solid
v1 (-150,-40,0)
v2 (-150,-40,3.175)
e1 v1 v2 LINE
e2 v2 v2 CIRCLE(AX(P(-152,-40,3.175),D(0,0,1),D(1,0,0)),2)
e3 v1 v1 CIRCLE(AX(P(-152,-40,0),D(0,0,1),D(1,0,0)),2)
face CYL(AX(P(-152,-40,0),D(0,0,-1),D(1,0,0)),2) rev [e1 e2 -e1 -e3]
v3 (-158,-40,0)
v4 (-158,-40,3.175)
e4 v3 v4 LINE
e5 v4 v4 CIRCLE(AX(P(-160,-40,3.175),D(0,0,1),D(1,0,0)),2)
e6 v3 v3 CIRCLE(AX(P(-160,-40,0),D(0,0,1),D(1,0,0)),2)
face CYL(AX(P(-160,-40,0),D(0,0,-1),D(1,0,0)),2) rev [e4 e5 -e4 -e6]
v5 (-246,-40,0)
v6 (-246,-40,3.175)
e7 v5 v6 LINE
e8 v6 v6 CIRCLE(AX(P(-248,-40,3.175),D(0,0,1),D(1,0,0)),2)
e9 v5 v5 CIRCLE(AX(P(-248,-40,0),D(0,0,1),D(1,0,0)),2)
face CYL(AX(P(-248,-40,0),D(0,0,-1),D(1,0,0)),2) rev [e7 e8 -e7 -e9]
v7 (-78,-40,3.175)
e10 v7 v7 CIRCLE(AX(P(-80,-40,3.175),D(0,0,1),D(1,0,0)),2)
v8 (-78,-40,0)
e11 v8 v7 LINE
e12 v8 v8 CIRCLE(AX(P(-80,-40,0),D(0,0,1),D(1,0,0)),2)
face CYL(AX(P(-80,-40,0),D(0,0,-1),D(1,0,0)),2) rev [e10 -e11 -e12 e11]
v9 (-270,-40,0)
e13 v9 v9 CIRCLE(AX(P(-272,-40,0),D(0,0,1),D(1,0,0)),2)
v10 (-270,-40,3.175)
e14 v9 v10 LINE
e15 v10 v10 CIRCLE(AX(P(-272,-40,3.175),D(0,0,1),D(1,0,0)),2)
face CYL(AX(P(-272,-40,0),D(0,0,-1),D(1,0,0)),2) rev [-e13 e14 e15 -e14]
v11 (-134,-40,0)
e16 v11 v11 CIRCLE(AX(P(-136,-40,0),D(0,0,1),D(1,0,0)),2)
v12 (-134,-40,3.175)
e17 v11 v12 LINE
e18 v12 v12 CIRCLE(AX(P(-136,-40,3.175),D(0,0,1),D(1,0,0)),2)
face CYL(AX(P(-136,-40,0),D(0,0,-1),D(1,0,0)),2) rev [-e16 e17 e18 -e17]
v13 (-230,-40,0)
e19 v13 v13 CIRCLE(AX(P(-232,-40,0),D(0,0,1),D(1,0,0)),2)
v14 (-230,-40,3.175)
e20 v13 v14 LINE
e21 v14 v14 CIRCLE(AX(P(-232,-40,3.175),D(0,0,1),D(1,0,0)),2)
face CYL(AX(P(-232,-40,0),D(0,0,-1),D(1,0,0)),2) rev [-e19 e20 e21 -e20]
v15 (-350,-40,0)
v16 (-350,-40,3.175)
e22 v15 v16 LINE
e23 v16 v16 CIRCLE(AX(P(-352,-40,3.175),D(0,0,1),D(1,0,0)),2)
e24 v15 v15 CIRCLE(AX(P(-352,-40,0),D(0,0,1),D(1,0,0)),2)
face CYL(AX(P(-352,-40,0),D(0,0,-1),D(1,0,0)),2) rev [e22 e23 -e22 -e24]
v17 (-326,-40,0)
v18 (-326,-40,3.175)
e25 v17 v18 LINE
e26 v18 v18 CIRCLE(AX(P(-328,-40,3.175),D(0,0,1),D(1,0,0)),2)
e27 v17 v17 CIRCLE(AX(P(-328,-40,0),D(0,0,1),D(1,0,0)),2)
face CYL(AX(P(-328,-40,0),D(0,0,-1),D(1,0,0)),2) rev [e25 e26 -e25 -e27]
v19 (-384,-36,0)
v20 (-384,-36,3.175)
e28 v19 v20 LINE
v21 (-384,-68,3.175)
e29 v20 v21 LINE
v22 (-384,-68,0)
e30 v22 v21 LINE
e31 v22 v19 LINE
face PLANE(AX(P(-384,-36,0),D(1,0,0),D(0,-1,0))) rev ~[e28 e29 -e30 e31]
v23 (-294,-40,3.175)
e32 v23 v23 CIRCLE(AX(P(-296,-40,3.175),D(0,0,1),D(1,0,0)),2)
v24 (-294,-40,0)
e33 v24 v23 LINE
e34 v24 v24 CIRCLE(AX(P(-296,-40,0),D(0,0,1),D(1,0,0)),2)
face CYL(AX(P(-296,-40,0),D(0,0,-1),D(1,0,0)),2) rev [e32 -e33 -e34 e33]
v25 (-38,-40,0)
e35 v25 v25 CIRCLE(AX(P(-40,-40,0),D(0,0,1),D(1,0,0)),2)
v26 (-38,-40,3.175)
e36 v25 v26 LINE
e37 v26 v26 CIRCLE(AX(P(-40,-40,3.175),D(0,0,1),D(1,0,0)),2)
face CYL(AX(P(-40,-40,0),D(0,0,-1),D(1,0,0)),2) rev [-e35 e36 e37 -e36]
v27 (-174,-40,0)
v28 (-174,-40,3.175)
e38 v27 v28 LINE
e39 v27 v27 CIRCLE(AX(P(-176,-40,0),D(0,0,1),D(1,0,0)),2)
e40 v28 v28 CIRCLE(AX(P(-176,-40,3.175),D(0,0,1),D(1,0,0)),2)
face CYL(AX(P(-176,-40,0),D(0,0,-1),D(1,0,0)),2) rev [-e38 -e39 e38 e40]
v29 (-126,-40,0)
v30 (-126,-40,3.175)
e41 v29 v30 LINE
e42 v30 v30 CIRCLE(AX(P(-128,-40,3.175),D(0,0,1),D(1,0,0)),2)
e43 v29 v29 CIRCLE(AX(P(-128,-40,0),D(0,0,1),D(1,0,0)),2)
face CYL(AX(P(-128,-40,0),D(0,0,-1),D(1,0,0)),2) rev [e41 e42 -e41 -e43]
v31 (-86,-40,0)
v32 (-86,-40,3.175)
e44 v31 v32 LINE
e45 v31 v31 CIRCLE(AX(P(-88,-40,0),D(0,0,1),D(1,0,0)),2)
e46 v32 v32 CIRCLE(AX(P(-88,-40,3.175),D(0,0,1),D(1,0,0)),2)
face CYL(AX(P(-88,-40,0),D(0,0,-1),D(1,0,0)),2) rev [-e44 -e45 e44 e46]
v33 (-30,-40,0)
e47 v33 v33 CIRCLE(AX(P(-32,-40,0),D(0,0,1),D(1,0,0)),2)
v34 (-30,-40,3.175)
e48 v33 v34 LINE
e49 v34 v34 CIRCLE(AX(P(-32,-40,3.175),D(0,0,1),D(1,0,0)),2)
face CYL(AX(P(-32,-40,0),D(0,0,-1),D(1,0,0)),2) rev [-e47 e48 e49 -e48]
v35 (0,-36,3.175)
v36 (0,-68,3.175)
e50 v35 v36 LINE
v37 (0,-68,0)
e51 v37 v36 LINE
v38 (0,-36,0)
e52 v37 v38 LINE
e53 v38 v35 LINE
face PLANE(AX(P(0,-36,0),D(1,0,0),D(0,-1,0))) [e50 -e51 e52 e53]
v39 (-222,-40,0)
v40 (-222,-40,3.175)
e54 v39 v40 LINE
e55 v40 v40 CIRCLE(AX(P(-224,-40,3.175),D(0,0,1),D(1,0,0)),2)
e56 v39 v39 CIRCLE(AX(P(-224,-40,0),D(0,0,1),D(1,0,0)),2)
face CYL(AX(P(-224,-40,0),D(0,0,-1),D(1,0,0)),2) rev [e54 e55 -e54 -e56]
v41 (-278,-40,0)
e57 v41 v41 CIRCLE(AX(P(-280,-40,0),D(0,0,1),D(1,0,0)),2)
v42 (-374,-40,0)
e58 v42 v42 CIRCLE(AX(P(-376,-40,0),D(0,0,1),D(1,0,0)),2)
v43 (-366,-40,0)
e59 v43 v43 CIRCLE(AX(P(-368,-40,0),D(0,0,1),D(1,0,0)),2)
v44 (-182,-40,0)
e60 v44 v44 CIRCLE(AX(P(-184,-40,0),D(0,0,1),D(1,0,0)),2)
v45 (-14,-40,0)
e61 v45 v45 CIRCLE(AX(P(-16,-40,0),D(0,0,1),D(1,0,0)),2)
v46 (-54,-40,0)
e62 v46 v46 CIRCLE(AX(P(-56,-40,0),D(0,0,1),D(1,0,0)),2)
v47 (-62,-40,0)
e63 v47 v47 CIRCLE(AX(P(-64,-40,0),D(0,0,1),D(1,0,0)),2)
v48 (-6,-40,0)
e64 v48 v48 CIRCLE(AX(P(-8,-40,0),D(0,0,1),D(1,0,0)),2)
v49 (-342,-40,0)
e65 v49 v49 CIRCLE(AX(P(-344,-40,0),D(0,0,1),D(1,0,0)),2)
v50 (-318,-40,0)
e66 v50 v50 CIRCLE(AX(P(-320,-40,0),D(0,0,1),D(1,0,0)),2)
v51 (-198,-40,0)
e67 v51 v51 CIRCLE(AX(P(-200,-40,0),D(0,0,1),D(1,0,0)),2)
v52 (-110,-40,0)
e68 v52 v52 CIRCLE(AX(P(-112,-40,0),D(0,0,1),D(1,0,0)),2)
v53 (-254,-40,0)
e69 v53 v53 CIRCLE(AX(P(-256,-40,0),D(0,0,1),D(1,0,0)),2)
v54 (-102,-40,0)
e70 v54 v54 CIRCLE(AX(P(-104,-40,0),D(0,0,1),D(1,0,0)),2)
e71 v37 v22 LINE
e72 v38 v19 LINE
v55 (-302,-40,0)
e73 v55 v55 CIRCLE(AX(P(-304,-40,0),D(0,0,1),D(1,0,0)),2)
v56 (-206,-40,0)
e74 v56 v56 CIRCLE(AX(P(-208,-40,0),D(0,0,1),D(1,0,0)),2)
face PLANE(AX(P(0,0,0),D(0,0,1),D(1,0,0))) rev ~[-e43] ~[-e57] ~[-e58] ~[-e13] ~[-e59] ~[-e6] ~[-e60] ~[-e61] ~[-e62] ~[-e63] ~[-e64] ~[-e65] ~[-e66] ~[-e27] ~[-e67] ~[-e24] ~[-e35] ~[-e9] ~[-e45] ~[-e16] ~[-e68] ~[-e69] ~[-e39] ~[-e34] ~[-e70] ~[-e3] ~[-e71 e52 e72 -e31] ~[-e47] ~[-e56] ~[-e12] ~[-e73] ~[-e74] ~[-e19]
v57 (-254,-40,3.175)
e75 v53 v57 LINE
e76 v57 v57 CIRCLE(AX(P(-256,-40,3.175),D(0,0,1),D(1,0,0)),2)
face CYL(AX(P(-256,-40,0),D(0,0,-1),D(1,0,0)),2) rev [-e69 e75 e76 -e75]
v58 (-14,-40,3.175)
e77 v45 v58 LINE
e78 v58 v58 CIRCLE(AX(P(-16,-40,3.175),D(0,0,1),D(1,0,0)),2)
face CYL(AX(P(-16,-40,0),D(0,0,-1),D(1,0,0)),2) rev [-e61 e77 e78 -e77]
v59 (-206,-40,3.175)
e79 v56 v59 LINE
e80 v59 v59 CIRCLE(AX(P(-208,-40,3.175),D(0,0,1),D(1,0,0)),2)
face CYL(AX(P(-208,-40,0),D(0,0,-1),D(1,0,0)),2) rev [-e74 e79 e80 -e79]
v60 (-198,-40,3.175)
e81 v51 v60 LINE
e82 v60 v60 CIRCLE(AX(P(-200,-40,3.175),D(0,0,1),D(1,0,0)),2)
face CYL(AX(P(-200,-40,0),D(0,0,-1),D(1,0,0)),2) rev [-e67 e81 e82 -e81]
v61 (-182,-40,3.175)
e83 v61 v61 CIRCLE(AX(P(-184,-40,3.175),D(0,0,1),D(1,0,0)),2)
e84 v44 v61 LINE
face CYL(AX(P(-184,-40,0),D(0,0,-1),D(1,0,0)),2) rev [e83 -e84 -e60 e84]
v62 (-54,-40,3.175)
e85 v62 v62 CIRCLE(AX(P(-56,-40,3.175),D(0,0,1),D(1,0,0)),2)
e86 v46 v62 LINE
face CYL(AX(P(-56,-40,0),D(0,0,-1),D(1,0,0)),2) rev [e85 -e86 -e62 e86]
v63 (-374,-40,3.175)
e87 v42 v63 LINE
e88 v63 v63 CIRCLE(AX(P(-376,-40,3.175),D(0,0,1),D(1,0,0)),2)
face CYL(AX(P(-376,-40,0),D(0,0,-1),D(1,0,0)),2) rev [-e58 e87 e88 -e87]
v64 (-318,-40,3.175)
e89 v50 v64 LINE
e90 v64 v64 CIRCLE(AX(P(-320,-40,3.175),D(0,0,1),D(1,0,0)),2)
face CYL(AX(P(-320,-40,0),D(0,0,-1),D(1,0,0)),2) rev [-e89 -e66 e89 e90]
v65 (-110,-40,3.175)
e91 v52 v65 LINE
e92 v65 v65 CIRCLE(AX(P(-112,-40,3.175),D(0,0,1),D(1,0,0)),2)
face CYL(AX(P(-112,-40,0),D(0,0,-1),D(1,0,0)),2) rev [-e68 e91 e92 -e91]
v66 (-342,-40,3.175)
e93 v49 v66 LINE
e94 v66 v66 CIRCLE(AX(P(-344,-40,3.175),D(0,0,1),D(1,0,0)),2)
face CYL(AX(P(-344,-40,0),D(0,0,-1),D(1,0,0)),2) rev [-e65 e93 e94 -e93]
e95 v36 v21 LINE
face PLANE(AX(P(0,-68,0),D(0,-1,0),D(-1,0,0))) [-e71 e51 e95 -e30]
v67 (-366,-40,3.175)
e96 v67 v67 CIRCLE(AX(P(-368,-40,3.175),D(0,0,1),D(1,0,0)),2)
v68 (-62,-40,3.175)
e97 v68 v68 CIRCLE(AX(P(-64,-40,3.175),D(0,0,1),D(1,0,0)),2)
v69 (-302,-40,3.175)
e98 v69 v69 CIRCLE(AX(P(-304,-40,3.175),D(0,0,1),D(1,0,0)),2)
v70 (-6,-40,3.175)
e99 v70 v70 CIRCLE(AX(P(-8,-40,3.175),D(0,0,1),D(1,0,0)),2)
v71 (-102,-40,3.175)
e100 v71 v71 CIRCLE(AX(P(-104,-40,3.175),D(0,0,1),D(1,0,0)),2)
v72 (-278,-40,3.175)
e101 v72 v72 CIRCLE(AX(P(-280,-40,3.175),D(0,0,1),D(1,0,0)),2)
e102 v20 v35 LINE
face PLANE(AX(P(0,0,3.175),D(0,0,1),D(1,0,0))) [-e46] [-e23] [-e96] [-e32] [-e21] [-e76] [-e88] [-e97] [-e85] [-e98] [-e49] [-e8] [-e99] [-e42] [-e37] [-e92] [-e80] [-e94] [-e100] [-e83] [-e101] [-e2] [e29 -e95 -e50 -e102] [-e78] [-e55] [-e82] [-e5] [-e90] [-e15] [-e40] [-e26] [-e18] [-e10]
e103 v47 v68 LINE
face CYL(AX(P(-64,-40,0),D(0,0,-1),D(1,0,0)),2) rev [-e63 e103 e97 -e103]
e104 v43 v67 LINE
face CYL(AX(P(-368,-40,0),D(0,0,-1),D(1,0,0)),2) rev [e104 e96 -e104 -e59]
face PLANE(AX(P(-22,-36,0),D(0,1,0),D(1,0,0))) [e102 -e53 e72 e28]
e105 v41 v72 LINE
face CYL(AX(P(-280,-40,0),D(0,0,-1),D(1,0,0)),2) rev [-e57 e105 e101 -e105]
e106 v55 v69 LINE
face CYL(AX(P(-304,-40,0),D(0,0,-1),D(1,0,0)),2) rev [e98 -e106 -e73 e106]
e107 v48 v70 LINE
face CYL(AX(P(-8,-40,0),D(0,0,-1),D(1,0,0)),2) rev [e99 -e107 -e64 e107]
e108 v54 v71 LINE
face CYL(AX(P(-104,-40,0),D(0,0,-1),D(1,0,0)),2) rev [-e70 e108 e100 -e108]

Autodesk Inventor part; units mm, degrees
ref_plane "YZ Plane" through (0, 0, 0) normal (1, 0, 0) x (0, 1, 0)
ref_plane "XZ Plane" through (0, 0, 0) normal (0, 1, 0) x (-1, 0, 0)
ref_plane "XY Plane" through (0, 0, 0) normal (0, 0, 1) x (1, 0, 0)
ref_plane "Work Plane1" through (0, 0, 0) normal (0, 0, 1) x (1, 0, 0)
sketch "Sketch1" plane through (0, 0, 0) normal (0, 0, 1) x (1, 0, 0)
  line L0 (0, 0) -> (-384, 0) projected
  line L1 (-384, 0) -> (-384, -48) projected
  line L2 (0, -48) -> (-384, -48) projected
  line L3 (0, 0) -> (0, -48) projected
  line L4 (-31.0711, -33.8995) -> (-30.5858, -33.4142) projected
  arc A0 (-33.8995, -31.0711) -> (-31.0711, -33.8995) centre (-32.4853, -32.4853) ccw projected
  line L5 (-33.8995, -31.0711) -> (-33.4142, -30.5858) projected
  arc A1 (-30.5858, -33.4142) -> (-33.4142, -30.5858) centre (-32, -32) ccw projected
  circle A2 centre (-16, -40) radius 2 projected
  circle A3 centre (-32, -40) radius 2 projected
  arc A4 (-38.5858, -30.5858) -> (-41.4142, -33.4142) centre (-40, -32) ccw projected
  line L6 (-38.1005, -31.0711) -> (-38.5858, -30.5858) projected
  arc A5 (-40.9289, -33.8995) -> (-38.1005, -31.0711) centre (-39.5147, -32.4853) ccw projected
  line L7 (-40.9289, -33.8995) -> (-41.4142, -33.4142) projected
  arc A6 (-41.4142, -14.5858) -> (-38.5858, -17.4142) centre (-40, -16) ccw projected
  line L8 (-40.9289, -14.1005) -> (-41.4142, -14.5858) projected
  arc A7 (-38.1005, -16.9289) -> (-40.9289, -14.1005) centre (-39.5147, -15.5147) ccw projected
  line L9 (-38.1005, -16.9289) -> (-38.5858, -17.4142) projected
  circle A8 centre (-40, -8) radius 2 projected
  arc A9 (-9.4142, -17.4142) -> (-6.5858, -14.5858) centre (-8, -16) ccw projected
  line L10 (-9.8995, -16.9289) -> (-9.4142, -17.4142) projected
  arc A10 (-7.0711, -14.1005) -> (-9.8995, -16.9289) centre (-8.4853, -15.5147) ccw projected
  line L11 (-7.0711, -14.1005) -> (-6.5858, -14.5858) projected
  circle A11 centre (-24, -24) radius 7 projected
  line L12 (-22, -8) -> (-22, -12.6863) projected
  arc A12 (-26, -12.6863) -> (-22, -12.6863) centre (-24, -12.6863) ccw projected
  line L13 (-26, -8) -> (-26, -12.6863) projected
  arc A13 (-22, -8) -> (-26, -8) centre (-24, -8) ccw projected
  line L14 (-11.3137, -26) -> (-12.6863, -26) projected
  arc A14 (-12.6863, -22) -> (-12.6863, -26) centre (-12.6863, -24) ccw projected
  line L15 (-12.6863, -22) -> (-11.3137, -22) projected
  arc A15 (-11.3137, -26) -> (-11.3137, -22) centre (-11.3137, -24) ccw projected
  line L16 (-26, -40) -> (-26, -35.3137) projected
  arc A16 (-22, -35.3137) -> (-26, -35.3137) centre (-24, -35.3137) ccw projected
  line L17 (-22, -40) -> (-22, -35.3137) projected
  arc A17 (-26, -40) -> (-22, -40) centre (-24, -40) ccw projected
  line L18 (-36.6863, -22) -> (-35.3137, -22) projected
  arc A18 (-35.3137, -26) -> (-35.3137, -22) centre (-35.3137, -24) ccw projected
  line L19 (-35.3137, -26) -> (-36.6863, -26) projected
  arc A19 (-36.6863, -22) -> (-36.6863, -26) centre (-36.6863, -24) ccw projected
  circle A20 centre (-16, -8) radius 2 projected
  circle A21 centre (-8, -8) radius 2 projected
  arc A22 (-6.5858, -33.4142) -> (-9.4142, -30.5858) centre (-8, -32) ccw projected
  line L20 (-7.0711, -33.8995) -> (-6.5858, -33.4142) projected
  arc A23 (-9.8995, -31.0711) -> (-7.0711, -33.8995) centre (-8.4853, -32.4853) ccw projected
  line L21 (-9.8995, -31.0711) -> (-9.4142, -30.5858) projected
  circle A24 centre (-8, -40) radius 2 projected
  circle A25 centre (-32, -8) radius 2 projected
  circle A26 centre (-40, -40) radius 2 projected
  line L22 (-14.1005, -31.0711) -> (-14.5858, -30.5858) projected
  arc A27 (-16.9289, -33.8995) -> (-14.1005, -31.0711) centre (-15.5147, -32.4853) ccw projected
  line L23 (-16.9289, -33.8995) -> (-17.4142, -33.4142) projected
  arc A28 (-14.5858, -30.5858) -> (-17.4142, -33.4142) centre (-16, -32) ccw projected
  arc A29 (-17.4142, -14.5858) -> (-14.5858, -17.4142) centre (-16, -16) ccw projected
  line L24 (-16.9289, -14.1005) -> (-17.4142, -14.5858) projected
  arc A30 (-14.1005, -16.9289) -> (-16.9289, -14.1005) centre (-15.5147, -15.5147) ccw projected
  line L25 (-14.1005, -16.9289) -> (-14.5858, -17.4142) projected
  line L26 (-31.0711, -14.1005) -> (-30.5858, -14.5858) projected
  arc A31 (-33.4142, -17.4142) -> (-30.5858, -14.5858) centre (-32, -16) ccw projected
  line L27 (-33.8995, -16.9289) -> (-33.4142, -17.4142) projected
  arc A32 (-31.0711, -14.1005) -> (-33.8995, -16.9289) centre (-32.4853, -15.5147) ccw projected
  line L28 (-367.0711, -14.1005) -> (-366.5858, -14.5858) projected
  arc A33 (-369.4142, -17.4142) -> (-366.5858, -14.5858) centre (-368, -16) ccw projected
  line L29 (-369.8995, -16.9289) -> (-369.4142, -17.4142) projected
  arc A34 (-367.0711, -14.1005) -> (-369.8995, -16.9289) centre (-368.4853, -15.5147) ccw projected
  circle A35 centre (-376, -40) radius 2 projected
  circle A36 centre (-368, -8) radius 2 projected
  line L30 (-372.6863, -22) -> (-371.3137, -22) projected
  arc A37 (-371.3137, -26) -> (-371.3137, -22) centre (-371.3137, -24) ccw projected
  line L31 (-371.3137, -26) -> (-372.6863, -26) projected
  arc A38 (-372.6863, -22) -> (-372.6863, -26) centre (-372.6863, -24) ccw projected
  line L32 (-362, -40) -> (-362, -35.3137) projected
  arc A39 (-358, -35.3137) -> (-362, -35.3137) centre (-360, -35.3137) ccw projected
  line L33 (-358, -40) -> (-358, -35.3137) projected
  arc A40 (-362, -40) -> (-358, -40) centre (-360, -40) ccw projected
  line L34 (-358, -8) -> (-358, -12.6863) projected
  arc A41 (-362, -12.6863) -> (-358, -12.6863) centre (-360, -12.6863) ccw projected
  line L35 (-362, -8) -> (-362, -12.6863) projected
  arc A42 (-358, -8) -> (-362, -8) centre (-360, -8) ccw projected
  circle A43 centre (-360, -24) radius 7 projected
  circle A44 centre (-376, -8) radius 2 projected
  arc A45 (-377.4142, -14.5858) -> (-374.5858, -17.4142) centre (-376, -16) ccw projected
  line L36 (-376.9289, -14.1005) -> (-377.4142, -14.5858) projected
  arc A46 (-374.1005, -16.9289) -> (-376.9289, -14.1005) centre (-375.5147, -15.5147) ccw projected
  line L37 (-374.1005, -16.9289) -> (-374.5858, -17.4142) projected
  arc A47 (-374.5858, -30.5858) -> (-377.4142, -33.4142) centre (-376, -32) ccw projected
  line L38 (-374.1005, -31.0711) -> (-374.5858, -30.5858) projected
  arc A48 (-376.9289, -33.8995) -> (-374.1005, -31.0711) centre (-375.5147, -32.4853) ccw projected
  line L39 (-376.9289, -33.8995) -> (-377.4142, -33.4142) projected
  circle A49 centre (-368, -40) radius 2 projected
  line L40 (-367.0711, -33.8995) -> (-366.5858, -33.4142) projected
  arc A50 (-369.8995, -31.0711) -> (-367.0711, -33.8995) centre (-368.4853, -32.4853) ccw projected
  line L41 (-369.8995, -31.0711) -> (-369.4142, -30.5858) projected
  arc A51 (-366.5858, -33.4142) -> (-369.4142, -30.5858) centre (-368, -32) ccw projected
  line L42 (-343.0711, -14.1005) -> (-342.5858, -14.5858) projected
  arc A52 (-345.4142, -17.4142) -> (-342.5858, -14.5858) centre (-344, -16) ccw projected
  line L43 (-345.8995, -16.9289) -> (-345.4142, -17.4142) projected
  arc A53 (-343.0711, -14.1005) -> (-345.8995, -16.9289) centre (-344.4853, -15.5147) ccw projected
  circle A54 centre (-352, -40) radius 2 projected
  circle A55 centre (-344, -8) radius 2 projected
  line L44 (-348.6863, -22) -> (-347.3137, -22) projected
  arc A56 (-347.3137, -26) -> (-347.3137, -22) centre (-347.3137, -24) ccw projected
  line L45 (-347.3137, -26) -> (-348.6863, -26) projected
  arc A57 (-348.6863, -22) -> (-348.6863, -26) centre (-348.6863, -24) ccw projected
  line L46 (-338, -40) -> (-338, -35.3137) projected
  arc A58 (-334, -35.3137) -> (-338, -35.3137) centre (-336, -35.3137) ccw projected
  line L47 (-334, -40) -> (-334, -35.3137) projected
  arc A59 (-338, -40) -> (-334, -40) centre (-336, -40) ccw projected
  line L48 (-334, -8) -> (-334, -12.6863) projected
  arc A60 (-338, -12.6863) -> (-334, -12.6863) centre (-336, -12.6863) ccw projected
  line L49 (-338, -8) -> (-338, -12.6863) projected
  arc A61 (-334, -8) -> (-338, -8) centre (-336, -8) ccw projected
  circle A62 centre (-336, -24) radius 7 projected
  circle A63 centre (-352, -8) radius 2 projected
  arc A64 (-353.4142, -14.5858) -> (-350.5858, -17.4142) centre (-352, -16) ccw projected
  line L50 (-352.9289, -14.1005) -> (-353.4142, -14.5858) projected
  arc A65 (-350.1005, -16.9289) -> (-352.9289, -14.1005) centre (-351.5147, -15.5147) ccw projected
  line L51 (-350.1005, -16.9289) -> (-350.5858, -17.4142) projected
  arc A66 (-350.5858, -30.5858) -> (-353.4142, -33.4142) centre (-352, -32) ccw projected
  line L52 (-350.1005, -31.0711) -> (-350.5858, -30.5858) projected
  arc A67 (-352.9289, -33.8995) -> (-350.1005, -31.0711) centre (-351.5147, -32.4853) ccw projected
  line L53 (-352.9289, -33.8995) -> (-353.4142, -33.4142) projected
  circle A68 centre (-344, -40) radius 2 projected
  line L54 (-343.0711, -33.8995) -> (-342.5858, -33.4142) projected
  arc A69 (-345.8995, -31.0711) -> (-343.0711, -33.8995) centre (-344.4853, -32.4853) ccw projected
  line L55 (-345.8995, -31.0711) -> (-345.4142, -30.5858) projected
  arc A70 (-342.5858, -33.4142) -> (-345.4142, -30.5858) centre (-344, -32) ccw projected
  line L56 (-319.0711, -14.1005) -> (-318.5858, -14.5858) projected
  arc A71 (-321.4142, -17.4142) -> (-318.5858, -14.5858) centre (-320, -16) ccw projected
  line L57 (-321.8995, -16.9289) -> (-321.4142, -17.4142) projected
  arc A72 (-319.0711, -14.1005) -> (-321.8995, -16.9289) centre (-320.4853, -15.5147) ccw projected
  circle A73 centre (-328, -40) radius 2 projected
  circle A74 centre (-320, -8) radius 2 projected
  line L58 (-324.6863, -22) -> (-323.3137, -22) projected
  arc A75 (-323.3137, -26) -> (-323.3137, -22) centre (-323.3137, -24) ccw projected
  line L59 (-323.3137, -26) -> (-324.6863, -26) projected
  arc A76 (-324.6863, -22) -> (-324.6863, -26) centre (-324.6863, -24) ccw projected
  line L60 (-314, -40) -> (-314, -35.3137) projected
  arc A77 (-310, -35.3137) -> (-314, -35.3137) centre (-312, -35.3137) ccw projected
  line L61 (-310, -40) -> (-310, -35.3137) projected
  arc A78 (-314, -40) -> (-310, -40) centre (-312, -40) ccw projected
  line L62 (-310, -8) -> (-310, -12.6863) projected
  arc A79 (-314, -12.6863) -> (-310, -12.6863) centre (-312, -12.6863) ccw projected
  line L63 (-314, -8) -> (-314, -12.6863) projected
  arc A80 (-310, -8) -> (-314, -8) centre (-312, -8) ccw projected
  circle A81 centre (-312, -24) radius 7 projected
  circle A82 centre (-328, -8) radius 2 projected
  arc A83 (-329.4142, -14.5858) -> (-326.5858, -17.4142) centre (-328, -16) ccw projected
  line L64 (-328.9289, -14.1005) -> (-329.4142, -14.5858) projected
  arc A84 (-326.1005, -16.9289) -> (-328.9289, -14.1005) centre (-327.5147, -15.5147) ccw projected
  line L65 (-326.1005, -16.9289) -> (-326.5858, -17.4142) projected
  arc A85 (-326.5858, -30.5858) -> (-329.4142, -33.4142) centre (-328, -32) ccw projected
  line L66 (-326.1005, -31.0711) -> (-326.5858, -30.5858) projected
  arc A86 (-328.9289, -33.8995) -> (-326.1005, -31.0711) centre (-327.5147, -32.4853) ccw projected
  line L67 (-328.9289, -33.8995) -> (-329.4142, -33.4142) projected
  circle A87 centre (-320, -40) radius 2 projected
  line L68 (-319.0711, -33.8995) -> (-318.5858, -33.4142) projected
  arc A88 (-321.8995, -31.0711) -> (-319.0711, -33.8995) centre (-320.4853, -32.4853) ccw projected
  line L69 (-321.8995, -31.0711) -> (-321.4142, -30.5858) projected
  arc A89 (-318.5858, -33.4142) -> (-321.4142, -30.5858) centre (-320, -32) ccw projected
  line L70 (-295.0711, -14.1005) -> (-294.5858, -14.5858) projected
  arc A90 (-297.4142, -17.4142) -> (-294.5858, -14.5858) centre (-296, -16) ccw projected
  line L71 (-297.8995, -16.9289) -> (-297.4142, -17.4142) projected
  arc A91 (-295.0711, -14.1005) -> (-297.8995, -16.9289) centre (-296.4853, -15.5147) ccw projected
  circle A92 centre (-304, -40) radius 2 projected
  circle A93 centre (-296, -8) radius 2 projected
  line L72 (-300.6863, -22) -> (-299.3137, -22) projected
  arc A94 (-299.3137, -26) -> (-299.3137, -22) centre (-299.3137, -24) ccw projected
  line L73 (-299.3137, -26) -> (-300.6863, -26) projected
  arc A95 (-300.6863, -22) -> (-300.6863, -26) centre (-300.6863, -24) ccw projected
  line L74 (-290, -40) -> (-290, -35.3137) projected
  arc A96 (-286, -35.3137) -> (-290, -35.3137) centre (-288, -35.3137) ccw projected
  line L75 (-286, -40) -> (-286, -35.3137) projected
  arc A97 (-290, -40) -> (-286, -40) centre (-288, -40) ccw projected
  line L76 (-286, -8) -> (-286, -12.6863) projected
  arc A98 (-290, -12.6863) -> (-286, -12.6863) centre (-288, -12.6863) ccw projected
  line L77 (-290, -8) -> (-290, -12.6863) projected
  arc A99 (-286, -8) -> (-290, -8) centre (-288, -8) ccw projected
  circle A100 centre (-288, -24) radius 7 projected
  circle A101 centre (-304, -8) radius 2 projected
  arc A102 (-305.4142, -14.5858) -> (-302.5858, -17.4142) centre (-304, -16) ccw projected
  line L78 (-304.9289, -14.1005) -> (-305.4142, -14.5858) projected
  arc A103 (-302.1005, -16.9289) -> (-304.9289, -14.1005) centre (-303.5147, -15.5147) ccw projected
  line L79 (-302.1005, -16.9289) -> (-302.5858, -17.4142) projected
  arc A104 (-302.5858, -30.5858) -> (-305.4142, -33.4142) centre (-304, -32) ccw projected
  line L80 (-302.1005, -31.0711) -> (-302.5858, -30.5858) projected
  arc A105 (-304.9289, -33.8995) -> (-302.1005, -31.0711) centre (-303.5147, -32.4853) ccw projected
  line L81 (-304.9289, -33.8995) -> (-305.4142, -33.4142) projected
  circle A106 centre (-296, -40) radius 2 projected
  line L82 (-295.0711, -33.8995) -> (-294.5858, -33.4142) projected
  arc A107 (-297.8995, -31.0711) -> (-295.0711, -33.8995) centre (-296.4853, -32.4853) ccw projected
  line L83 (-297.8995, -31.0711) -> (-297.4142, -30.5858) projected
  arc A108 (-294.5858, -33.4142) -> (-297.4142, -30.5858) centre (-296, -32) ccw projected
  line L84 (-271.0711, -14.1005) -> (-270.5858, -14.5858) projected
  arc A109 (-273.4142, -17.4142) -> (-270.5858, -14.5858) centre (-272, -16) ccw projected
  line L85 (-273.8995, -16.9289) -> (-273.4142, -17.4142) projected
  arc A110 (-271.0711, -14.1005) -> (-273.8995, -16.9289) centre (-272.4853, -15.5147) ccw projected
  circle A111 centre (-280, -40) radius 2 projected
  circle A112 centre (-272, -8) radius 2 projected
  line L86 (-276.6863, -22) -> (-275.3137, -22) projected
  arc A113 (-275.3137, -26) -> (-275.3137, -22) centre (-275.3137, -24) ccw projected
  line L87 (-275.3137, -26) -> (-276.6863, -26) projected
  arc A114 (-276.6863, -22) -> (-276.6863, -26) centre (-276.6863, -24) ccw projected
  line L88 (-266, -40) -> (-266, -35.3137) projected
  arc A115 (-262, -35.3137) -> (-266, -35.3137) centre (-264, -35.3137) ccw projected
  line L89 (-262, -40) -> (-262, -35.3137) projected
  arc A116 (-266, -40) -> (-262, -40) centre (-264, -40) ccw projected
  line L90 (-262, -8) -> (-262, -12.6863) projected
  arc A117 (-266, -12.6863) -> (-262, -12.6863) centre (-264, -12.6863) ccw projected
  line L91 (-266, -8) -> (-266, -12.6863) projected
  arc A118 (-262, -8) -> (-266, -8) centre (-264, -8) ccw projected
  circle A119 centre (-264, -24) radius 7 projected
  circle A120 centre (-280, -8) radius 2 projected
  arc A121 (-281.4142, -14.5858) -> (-278.5858, -17.4142) centre (-280, -16) ccw projected
  line L92 (-280.9289, -14.1005) -> (-281.4142, -14.5858) projected
  arc A122 (-278.1005, -16.9289) -> (-280.9289, -14.1005) centre (-279.5147, -15.5147) ccw projected
  line L93 (-278.1005, -16.9289) -> (-278.5858, -17.4142) projected
  arc A123 (-278.5858, -30.5858) -> (-281.4142, -33.4142) centre (-280, -32) ccw projected
  line L94 (-278.1005, -31.0711) -> (-278.5858, -30.5858) projected
  arc A124 (-280.9289, -33.8995) -> (-278.1005, -31.0711) centre (-279.5147, -32.4853) ccw projected
  line L95 (-280.9289, -33.8995) -> (-281.4142, -33.4142) projected
  circle A125 centre (-272, -40) radius 2 projected
  line L96 (-271.0711, -33.8995) -> (-270.5858, -33.4142) projected
  arc A126 (-273.8995, -31.0711) -> (-271.0711, -33.8995) centre (-272.4853, -32.4853) ccw projected
  line L97 (-273.8995, -31.0711) -> (-273.4142, -30.5858) projected
  arc A127 (-270.5858, -33.4142) -> (-273.4142, -30.5858) centre (-272, -32) ccw projected
  line L98 (-247.0711, -14.1005) -> (-246.5858, -14.5858) projected
  arc A128 (-249.4142, -17.4142) -> (-246.5858, -14.5858) centre (-248, -16) ccw projected
  line L99 (-249.8995, -16.9289) -> (-249.4142, -17.4142) projected
  arc A129 (-247.0711, -14.1005) -> (-249.8995, -16.9289) centre (-248.4853, -15.5147) ccw projected
  circle A130 centre (-256, -40) radius 2 projected
  circle A131 centre (-248, -8) radius 2 projected
  line L100 (-252.6863, -22) -> (-251.3137, -22) projected
  arc A132 (-251.3137, -26) -> (-251.3137, -22) centre (-251.3137, -24) ccw projected
  line L101 (-251.3137, -26) -> (-252.6863, -26) projected
  arc A133 (-252.6863, -22) -> (-252.6863, -26) centre (-252.6863, -24) ccw projected
  line L102 (-242, -40) -> (-242, -35.3137) projected
  arc A134 (-238, -35.3137) -> (-242, -35.3137) centre (-240, -35.3137) ccw projected
  line L103 (-238, -40) -> (-238, -35.3137) projected
  arc A135 (-242, -40) -> (-238, -40) centre (-240, -40) ccw projected
  line L104 (-238, -8) -> (-238, -12.6863) projected
  arc A136 (-242, -12.6863) -> (-238, -12.6863) centre (-240, -12.6863) ccw projected
  line L105 (-242, -8) -> (-242, -12.6863) projected
  arc A137 (-238, -8) -> (-242, -8) centre (-240, -8) ccw projected
  circle A138 centre (-240, -24) radius 7 projected
  circle A139 centre (-256, -8) radius 2 projected
  arc A140 (-257.4142, -14.5858) -> (-254.5858, -17.4142) centre (-256, -16) ccw projected
  line L106 (-256.9289, -14.1005) -> (-257.4142, -14.5858) projected
  arc A141 (-254.1005, -16.9289) -> (-256.9289, -14.1005) centre (-255.5147, -15.5147) ccw projected
  line L107 (-254.1005, -16.9289) -> (-254.5858, -17.4142) projected
  arc A142 (-254.5858, -30.5858) -> (-257.4142, -33.4142) centre (-256, -32) ccw projected
  line L108 (-254.1005, -31.0711) -> (-254.5858, -30.5858) projected
  arc A143 (-256.9289, -33.8995) -> (-254.1005, -31.0711) centre (-255.5147, -32.4853) ccw projected
  line L109 (-256.9289, -33.8995) -> (-257.4142, -33.4142) projected
  circle A144 centre (-248, -40) radius 2 projected
  line L110 (-247.0711, -33.8995) -> (-246.5858, -33.4142) projected
  arc A145 (-249.8995, -31.0711) -> (-247.0711, -33.8995) centre (-248.4853, -32.4853) ccw projected
  line L111 (-249.8995, -31.0711) -> (-249.4142, -30.5858) projected
  arc A146 (-246.5858, -33.4142) -> (-249.4142, -30.5858) centre (-248, -32) ccw projected
  line L112 (-223.0711, -14.1005) -> (-222.5858, -14.5858) projected
  arc A147 (-225.4142, -17.4142) -> (-222.5858, -14.5858) centre (-224, -16) ccw projected
  line L113 (-225.8995, -16.9289) -> (-225.4142, -17.4142) projected
  arc A148 (-223.0711, -14.1005) -> (-225.8995, -16.9289) centre (-224.4853, -15.5147) ccw projected
  circle A149 centre (-232, -40) radius 2 projected
  circle A150 centre (-224, -8) radius 2 projected
  line L114 (-228.6863, -22) -> (-227.3137, -22) projected
  arc A151 (-227.3137, -26) -> (-227.3137, -22) centre (-227.3137, -24) ccw projected
  line L115 (-227.3137, -26) -> (-228.6863, -26) projected
  arc A152 (-228.6863, -22) -> (-228.6863, -26) centre (-228.6863, -24) ccw projected
  line L116 (-218, -40) -> (-218, -35.3137) projected
  arc A153 (-214, -35.3137) -> (-218, -35.3137) centre (-216, -35.3137) ccw projected
  line L117 (-214, -40) -> (-214, -35.3137) projected
  arc A154 (-218, -40) -> (-214, -40) centre (-216, -40) ccw projected
  line L118 (-214, -8) -> (-214, -12.6863) projected
  arc A155 (-218, -12.6863) -> (-214, -12.6863) centre (-216, -12.6863) ccw projected
  line L119 (-218, -8) -> (-218, -12.6863) projected
  arc A156 (-214, -8) -> (-218, -8) centre (-216, -8) ccw projected
  circle A157 centre (-216, -24) radius 7 projected
  circle A158 centre (-232, -8) radius 2 projected
  arc A159 (-233.4142, -14.5858) -> (-230.5858, -17.4142) centre (-232, -16) ccw projected
  line L120 (-232.9289, -14.1005) -> (-233.4142, -14.5858) projected
  arc A160 (-230.1005, -16.9289) -> (-232.9289, -14.1005) centre (-231.5147, -15.5147) ccw projected
  line L121 (-230.1005, -16.9289) -> (-230.5858, -17.4142) projected
  arc A161 (-230.5858, -30.5858) -> (-233.4142, -33.4142) centre (-232, -32) ccw projected
  line L122 (-230.1005, -31.0711) -> (-230.5858, -30.5858) projected
  arc A162 (-232.9289, -33.8995) -> (-230.1005, -31.0711) centre (-231.5147, -32.4853) ccw projected
  line L123 (-232.9289, -33.8995) -> (-233.4142, -33.4142) projected
  circle A163 centre (-224, -40) radius 2 projected
  line L124 (-223.0711, -33.8995) -> (-222.5858, -33.4142) projected
  arc A164 (-225.8995, -31.0711) -> (-223.0711, -33.8995) centre (-224.4853, -32.4853) ccw projected
  line L125 (-225.8995, -31.0711) -> (-225.4142, -30.5858) projected
  arc A165 (-222.5858, -33.4142) -> (-225.4142, -30.5858) centre (-224, -32) ccw projected
  line L126 (-199.0711, -14.1005) -> (-198.5858, -14.5858) projected
  arc A166 (-201.4142, -17.4142) -> (-198.5858, -14.5858) centre (-200, -16) ccw projected
  line L127 (-201.8995, -16.9289) -> (-201.4142, -17.4142) projected
  arc A167 (-199.0711, -14.1005) -> (-201.8995, -16.9289) centre (-200.4853, -15.5147) ccw projected
  circle A168 centre (-208, -40) radius 2 projected
  circle A169 centre (-200, -8) radius 2 projected
  line L128 (-204.6863, -22) -> (-203.3137, -22) projected
  arc A170 (-203.3137, -26) -> (-203.3137, -22) centre (-203.3137, -24) ccw projected
  line L129 (-203.3137, -26) -> (-204.6863, -26) projected
  arc A171 (-204.6863, -22) -> (-204.6863, -26) centre (-204.6863, -24) ccw projected
  line L130 (-194, -40) -> (-194, -35.3137) projected
  arc A172 (-190, -35.3137) -> (-194, -35.3137) centre (-192, -35.3137) ccw projected
  line L131 (-190, -40) -> (-190, -35.3137) projected
  arc A173 (-194, -40) -> (-190, -40) centre (-192, -40) ccw projected
  line L132 (-190, -8) -> (-190, -12.6863) projected
  arc A174 (-194, -12.6863) -> (-190, -12.6863) centre (-192, -12.6863) ccw projected
  line L133 (-194, -8) -> (-194, -12.6863) projected
  arc A175 (-190, -8) -> (-194, -8) centre (-192, -8) ccw projected
  circle A176 centre (-192, -24) radius 7 projected
  circle A177 centre (-208, -8) radius 2 projected
  arc A178 (-209.4142, -14.5858) -> (-206.5858, -17.4142) centre (-208, -16) ccw projected
  line L134 (-208.9289, -14.1005) -> (-209.4142, -14.5858) projected
  arc A179 (-206.1005, -16.9289) -> (-208.9289, -14.1005) centre (-207.5147, -15.5147) ccw projected
  line L135 (-206.1005, -16.9289) -> (-206.5858, -17.4142) projected
  arc A180 (-206.5858, -30.5858) -> (-209.4142, -33.4142) centre (-208, -32) ccw projected
  line L136 (-206.1005, -31.0711) -> (-206.5858, -30.5858) projected
  arc A181 (-208.9289, -33.8995) -> (-206.1005, -31.0711) centre (-207.5147, -32.4853) ccw projected
  line L137 (-208.9289, -33.8995) -> (-209.4142, -33.4142) projected
  circle A182 centre (-200, -40) radius 2 projected
  line L138 (-199.0711, -33.8995) -> (-198.5858, -33.4142) projected
  arc A183 (-201.8995, -31.0711) -> (-199.0711, -33.8995) centre (-200.4853, -32.4853) ccw projected
  line L139 (-201.8995, -31.0711) -> (-201.4142, -30.5858) projected
  arc A184 (-198.5858, -33.4142) -> (-201.4142, -30.5858) centre (-200, -32) ccw projected
  line L140 (-175.0711, -14.1005) -> (-174.5858, -14.5858) projected
  arc A185 (-177.4142, -17.4142) -> (-174.5858, -14.5858) centre (-176, -16) ccw projected
  line L141 (-177.8995, -16.9289) -> (-177.4142, -17.4142) projected
  arc A186 (-175.0711, -14.1005) -> (-177.8995, -16.9289) centre (-176.4853, -15.5147) ccw projected
  circle A187 centre (-184, -40) radius 2 projected
  circle A188 centre (-176, -8) radius 2 projected
  line L142 (-180.6863, -22) -> (-179.3137, -22) projected
  arc A189 (-179.3137, -26) -> (-179.3137, -22) centre (-179.3137, -24) ccw projected
  line L143 (-179.3137, -26) -> (-180.6863, -26) projected
  arc A190 (-180.6863, -22) -> (-180.6863, -26) centre (-180.6863, -24) ccw projected
  line L144 (-170, -40) -> (-170, -35.3137) projected
  arc A191 (-166, -35.3137) -> (-170, -35.3137) centre (-168, -35.3137) ccw projected
  line L145 (-166, -40) -> (-166, -35.3137) projected
  arc A192 (-170, -40) -> (-166, -40) centre (-168, -40) ccw projected
  line L146 (-166, -8) -> (-166, -12.6863) projected
  arc A193 (-170, -12.6863) -> (-166, -12.6863) centre (-168, -12.6863) ccw projected
  line L147 (-170, -8) -> (-170, -12.6863) projected
  arc A194 (-166, -8) -> (-170, -8) centre (-168, -8) ccw projected
  circle A195 centre (-168, -24) radius 7 projected
  circle A196 centre (-184, -8) radius 2 projected
  arc A197 (-185.4142, -14.5858) -> (-182.5858, -17.4142) centre (-184, -16) ccw projected
  line L148 (-184.9289, -14.1005) -> (-185.4142, -14.5858) projected
  arc A198 (-182.1005, -16.9289) -> (-184.9289, -14.1005) centre (-183.5147, -15.5147) ccw projected
  line L149 (-182.1005, -16.9289) -> (-182.5858, -17.4142) projected
  arc A199 (-182.5858, -30.5858) -> (-185.4142, -33.4142) centre (-184, -32) ccw projected
  line L150 (-182.1005, -31.0711) -> (-182.5858, -30.5858) projected
  arc A200 (-184.9289, -33.8995) -> (-182.1005, -31.0711) centre (-183.5147, -32.4853) ccw projected
  line L151 (-184.9289, -33.8995) -> (-185.4142, -33.4142) projected
  circle A201 centre (-176, -40) radius 2 projected
  line L152 (-175.0711, -33.8995) -> (-174.5858, -33.4142) projected
  arc A202 (-177.8995, -31.0711) -> (-175.0711, -33.8995) centre (-176.4853, -32.4853) ccw projected
  line L153 (-177.8995, -31.0711) -> (-177.4142, -30.5858) projected
  arc A203 (-174.5858, -33.4142) -> (-177.4142, -30.5858) centre (-176, -32) ccw projected
  line L154 (-151.0711, -14.1005) -> (-150.5858, -14.5858) projected
  arc A204 (-153.4142, -17.4142) -> (-150.5858, -14.5858) centre (-152, -16) ccw projected
  line L155 (-153.8995, -16.9289) -> (-153.4142, -17.4142) projected
  arc A205 (-151.0711, -14.1005) -> (-153.8995, -16.9289) centre (-152.4853, -15.5147) ccw projected
  circle A206 centre (-160, -40) radius 2 projected
  circle A207 centre (-152, -8) radius 2 projected
  line L156 (-156.6863, -22) -> (-155.3137, -22) projected
  arc A208 (-155.3137, -26) -> (-155.3137, -22) centre (-155.3137, -24) ccw projected
  line L157 (-155.3137, -26) -> (-156.6863, -26) projected
  arc A209 (-156.6863, -22) -> (-156.6863, -26) centre (-156.6863, -24) ccw projected
  line L158 (-146, -40) -> (-146, -35.3137) projected
  arc A210 (-142, -35.3137) -> (-146, -35.3137) centre (-144, -35.3137) ccw projected
  line L159 (-142, -40) -> (-142, -35.3137) projected
  arc A211 (-146, -40) -> (-142, -40) centre (-144, -40) ccw projected
  line L160 (-142, -8) -> (-142, -12.6863) projected
  arc A212 (-146, -12.6863) -> (-142, -12.6863) centre (-144, -12.6863) ccw projected
  line L161 (-146, -8) -> (-146, -12.6863) projected
  arc A213 (-142, -8) -> (-146, -8) centre (-144, -8) ccw projected
  circle A214 centre (-144, -24) radius 7 projected
  circle A215 centre (-160, -8) radius 2 projected
  arc A216 (-161.4142, -14.5858) -> (-158.5858, -17.4142) centre (-160, -16) ccw projected
  line L162 (-160.9289, -14.1005) -> (-161.4142, -14.5858) projected
  arc A217 (-158.1005, -16.9289) -> (-160.9289, -14.1005) centre (-159.5147, -15.5147) ccw projected
  line L163 (-158.1005, -16.9289) -> (-158.5858, -17.4142) projected
  arc A218 (-158.5858, -30.5858) -> (-161.4142, -33.4142) centre (-160, -32) ccw projected
  line L164 (-158.1005, -31.0711) -> (-158.5858, -30.5858) projected
  arc A219 (-160.9289, -33.8995) -> (-158.1005, -31.0711) centre (-159.5147, -32.4853) ccw projected
  line L165 (-160.9289, -33.8995) -> (-161.4142, -33.4142) projected
  circle A220 centre (-152, -40) radius 2 projected
  line L166 (-151.0711, -33.8995) -> (-150.5858, -33.4142) projected
  arc A221 (-153.8995, -31.0711) -> (-151.0711, -33.8995) centre (-152.4853, -32.4853) ccw projected
  line L167 (-153.8995, -31.0711) -> (-153.4142, -30.5858) projected
  arc A222 (-150.5858, -33.4142) -> (-153.4142, -30.5858) centre (-152, -32) ccw projected
  line L168 (-127.0711, -14.1005) -> (-126.5858, -14.5858) projected
  arc A223 (-129.4142, -17.4142) -> (-126.5858, -14.5858) centre (-128, -16) ccw projected
  line L169 (-129.8995, -16.9289) -> (-129.4142, -17.4142) projected
  arc A224 (-127.0711, -14.1005) -> (-129.8995, -16.9289) centre (-128.4853, -15.5147) ccw projected
  circle A225 centre (-136, -40) radius 2 projected
  circle A226 centre (-128, -8) radius 2 projected
  line L170 (-132.6863, -22) -> (-131.3137, -22) projected
  arc A227 (-131.3137, -26) -> (-131.3137, -22) centre (-131.3137, -24) ccw projected
  line L171 (-131.3137, -26) -> (-132.6863, -26) projected
  arc A228 (-132.6863, -22) -> (-132.6863, -26) centre (-132.6863, -24) ccw projected
  line L172 (-122, -40) -> (-122, -35.3137) projected
  arc A229 (-118, -35.3137) -> (-122, -35.3137) centre (-120, -35.3137) ccw projected
  line L173 (-118, -40) -> (-118, -35.3137) projected
  arc A230 (-122, -40) -> (-118, -40) centre (-120, -40) ccw projected
  line L174 (-118, -8) -> (-118, -12.6863) projected
  arc A231 (-122, -12.6863) -> (-118, -12.6863) centre (-120, -12.6863) ccw projected
  line L175 (-122, -8) -> (-122, -12.6863) projected
  arc A232 (-118, -8) -> (-122, -8) centre (-120, -8) ccw projected
  circle A233 centre (-120, -24) radius 7 projected
  circle A234 centre (-136, -8) radius 2 projected
  arc A235 (-137.4142, -14.5858) -> (-134.5858, -17.4142) centre (-136, -16) ccw projected
  line L176 (-136.9289, -14.1005) -> (-137.4142, -14.5858) projected
  arc A236 (-134.1005, -16.9289) -> (-136.9289, -14.1005) centre (-135.5147, -15.5147) ccw projected
  line L177 (-134.1005, -16.9289) -> (-134.5858, -17.4142) projected
  arc A237 (-134.5858, -30.5858) -> (-137.4142, -33.4142) centre (-136, -32) ccw projected
  line L178 (-134.1005, -31.0711) -> (-134.5858, -30.5858) projected
  arc A238 (-136.9289, -33.8995) -> (-134.1005, -31.0711) centre (-135.5147, -32.4853) ccw projected
  line L179 (-136.9289, -33.8995) -> (-137.4142, -33.4142) projected
  circle A239 centre (-128, -40) radius 2 projected
  line L180 (-127.0711, -33.8995) -> (-126.5858, -33.4142) projected
  arc A240 (-129.8995, -31.0711) -> (-127.0711, -33.8995) centre (-128.4853, -32.4853) ccw projected
  line L181 (-129.8995, -31.0711) -> (-129.4142, -30.5858) projected
  arc A241 (-126.5858, -33.4142) -> (-129.4142, -30.5858) centre (-128, -32) ccw projected
  line L182 (-103.0711, -14.1005) -> (-102.5858, -14.5858) projected
  arc A242 (-105.4142, -17.4142) -> (-102.5858, -14.5858) centre (-104, -16) ccw projected
  line L183 (-105.8995, -16.9289) -> (-105.4142, -17.4142) projected
  arc A243 (-103.0711, -14.1005) -> (-105.8995, -16.9289) centre (-104.4853, -15.5147) ccw projected
  circle A244 centre (-112, -40) radius 2 projected
  circle A245 centre (-104, -8) radius 2 projected
  line L184 (-108.6863, -22) -> (-107.3137, -22) projected
  arc A246 (-107.3137, -26) -> (-107.3137, -22) centre (-107.3137, -24) ccw projected
  line L185 (-107.3137, -26) -> (-108.6863, -26) projected
  arc A247 (-108.6863, -22) -> (-108.6863, -26) centre (-108.6863, -24) ccw projected
  line L186 (-98, -40) -> (-98, -35.3137) projected
  arc A248 (-94, -35.3137) -> (-98, -35.3137) centre (-96, -35.3137) ccw projected
  line L187 (-94, -40) -> (-94, -35.3137) projected
  arc A249 (-98, -40) -> (-94, -40) centre (-96, -40) ccw projected
  line L188 (-94, -8) -> (-94, -12.6863) projected
  arc A250 (-98, -12.6863) -> (-94, -12.6863) centre (-96, -12.6863) ccw projected
  line L189 (-98, -8) -> (-98, -12.6863) projected
  arc A251 (-94, -8) -> (-98, -8) centre (-96, -8) ccw projected
  circle A252 centre (-96, -24) radius 7 projected
  circle A253 centre (-112, -8) radius 2 projected
  arc A254 (-113.4142, -14.5858) -> (-110.5858, -17.4142) centre (-112, -16) ccw projected
  line L190 (-112.9289, -14.1005) -> (-113.4142, -14.5858) projected
  arc A255 (-110.1005, -16.9289) -> (-112.9289, -14.1005) centre (-111.5147, -15.5147) ccw projected
  line L191 (-110.1005, -16.9289) -> (-110.5858, -17.4142) projected
  arc A256 (-110.5858, -30.5858) -> (-113.4142, -33.4142) centre (-112, -32) ccw projected
  line L192 (-110.1005, -31.0711) -> (-110.5858, -30.5858) projected
  arc A257 (-112.9289, -33.8995) -> (-110.1005, -31.0711) centre (-111.5147, -32.4853) ccw projected
  line L193 (-112.9289, -33.8995) -> (-113.4142, -33.4142) projected
  circle A258 centre (-104, -40) radius 2 projected
  line L194 (-103.0711, -33.8995) -> (-102.5858, -33.4142) projected
  arc A259 (-105.8995, -31.0711) -> (-103.0711, -33.8995) centre (-104.4853, -32.4853) ccw projected
  line L195 (-105.8995, -31.0711) -> (-105.4142, -30.5858) projected
  arc A260 (-102.5858, -33.4142) -> (-105.4142, -30.5858) centre (-104, -32) ccw projected
  line L196 (-79.0711, -14.1005) -> (-78.5858, -14.5858) projected
  arc A261 (-81.4142, -17.4142) -> (-78.5858, -14.5858) centre (-80, -16) ccw projected
  line L197 (-81.8995, -16.9289) -> (-81.4142, -17.4142) projected
  arc A262 (-79.0711, -14.1005) -> (-81.8995, -16.9289) centre (-80.4853, -15.5147) ccw projected
  circle A263 centre (-88, -40) radius 2 projected
  circle A264 centre (-80, -8) radius 2 projected
  line L198 (-84.6863, -22) -> (-83.3137, -22) projected
  arc A265 (-83.3137, -26) -> (-83.3137, -22) centre (-83.3137, -24) ccw projected
  line L199 (-83.3137, -26) -> (-84.6863, -26) projected
  arc A266 (-84.6863, -22) -> (-84.6863, -26) centre (-84.6863, -24) ccw projected
  line L200 (-74, -40) -> (-74, -35.3137) projected
  arc A267 (-70, -35.3137) -> (-74, -35.3137) centre (-72, -35.3137) ccw projected
  line L201 (-70, -40) -> (-70, -35.3137) projected
  arc A268 (-74, -40) -> (-70, -40) centre (-72, -40) ccw projected
  line L202 (-70, -8) -> (-70, -12.6863) projected
  arc A269 (-74, -12.6863) -> (-70, -12.6863) centre (-72, -12.6863) ccw projected
  line L203 (-74, -8) -> (-74, -12.6863) projected
  arc A270 (-70, -8) -> (-74, -8) centre (-72, -8) ccw projected
  circle A271 centre (-72, -24) radius 7 projected
  circle A272 centre (-88, -8) radius 2 projected
  arc A273 (-89.4142, -14.5858) -> (-86.5858, -17.4142) centre (-88, -16) ccw projected
  line L204 (-88.9289, -14.1005) -> (-89.4142, -14.5858) projected
  arc A274 (-86.1005, -16.9289) -> (-88.9289, -14.1005) centre (-87.5147, -15.5147) ccw projected
  line L205 (-86.1005, -16.9289) -> (-86.5858, -17.4142) projected
  arc A275 (-86.5858, -30.5858) -> (-89.4142, -33.4142) centre (-88, -32) ccw projected
  line L206 (-86.1005, -31.0711) -> (-86.5858, -30.5858) projected
  arc A276 (-88.9289, -33.8995) -> (-86.1005, -31.0711) centre (-87.5147, -32.4853) ccw projected
  line L207 (-88.9289, -33.8995) -> (-89.4142, -33.4142) projected
  circle A277 centre (-80, -40) radius 2 projected
  line L208 (-79.0711, -33.8995) -> (-78.5858, -33.4142) projected
  arc A278 (-81.8995, -31.0711) -> (-79.0711, -33.8995) centre (-80.4853, -32.4853) ccw projected
  line L209 (-81.8995, -31.0711) -> (-81.4142, -30.5858) projected
  arc A279 (-78.5858, -33.4142) -> (-81.4142, -30.5858) centre (-80, -32) ccw projected
  line L210 (-55.0711, -14.1005) -> (-54.5858, -14.5858) projected
  arc A280 (-57.4142, -17.4142) -> (-54.5858, -14.5858) centre (-56, -16) ccw projected
  line L211 (-57.8995, -16.9289) -> (-57.4142, -17.4142) projected
  arc A281 (-55.0711, -14.1005) -> (-57.8995, -16.9289) centre (-56.4853, -15.5147) ccw projected
  circle A282 centre (-64, -40) radius 2 projected
  circle A283 centre (-56, -8) radius 2 projected
  line L212 (-60.6863, -22) -> (-59.3137, -22) projected
  arc A284 (-59.3137, -26) -> (-59.3137, -22) centre (-59.3137, -24) ccw projected
  line L213 (-59.3137, -26) -> (-60.6863, -26) projected
  arc A285 (-60.6863, -22) -> (-60.6863, -26) centre (-60.6863, -24) ccw projected
  line L214 (-50, -40) -> (-50, -35.3137) projected
  arc A286 (-46, -35.3137) -> (-50, -35.3137) centre (-48, -35.3137) ccw projected
  line L215 (-46, -40) -> (-46, -35.3137) projected
  arc A287 (-50, -40) -> (-46, -40) centre (-48, -40) ccw projected
  line L216 (-46, -8) -> (-46, -12.6863) projected
  arc A288 (-50, -12.6863) -> (-46, -12.6863) centre (-48, -12.6863) ccw projected
  line L217 (-50, -8) -> (-50, -12.6863) projected
  arc A289 (-46, -8) -> (-50, -8) centre (-48, -8) ccw projected
  circle A290 centre (-48, -24) radius 7 projected
  circle A291 centre (-64, -8) radius 2 projected
  arc A292 (-65.4142, -14.5858) -> (-62.5858, -17.4142) centre (-64, -16) ccw projected
  line L218 (-64.9289, -14.1005) -> (-65.4142, -14.5858) projected
  arc A293 (-62.1005, -16.9289) -> (-64.9289, -14.1005) centre (-63.5147, -15.5147) ccw projected
  line L219 (-62.1005, -16.9289) -> (-62.5858, -17.4142) projected
  arc A294 (-62.5858, -30.5858) -> (-65.4142, -33.4142) centre (-64, -32) ccw projected
  line L220 (-62.1005, -31.0711) -> (-62.5858, -30.5858) projected
  arc A295 (-64.9289, -33.8995) -> (-62.1005, -31.0711) centre (-63.5147, -32.4853) ccw projected
  line L221 (-64.9289, -33.8995) -> (-65.4142, -33.4142) projected
  circle A296 centre (-56, -40) radius 2 projected
  line L222 (-55.0711, -33.8995) -> (-54.5858, -33.4142) projected
  arc A297 (-57.8995, -31.0711) -> (-55.0711, -33.8995) centre (-56.4853, -32.4853) ccw projected
  line L223 (-57.8995, -31.0711) -> (-57.4142, -30.5858) projected
  arc A298 (-54.5858, -33.4142) -> (-57.4142, -30.5858) centre (-56, -32) ccw projected
  line L224 (-384, -36) -> (0, -36)
  line L225 (0, -36) -> (0, -68)
  line L226 (0, -68) -> (-384, -68)
  line L227 (-384, -68) -> (-384, -36)
  point P0 (0, -36)
  dimension "d0" = 20
  dimension "d1" = 4
extrude "Extrusion1" add sketch "Sketch1" along normal blind 3.175 contours L3 L2 L1 L224 L32 A40 L33 L46 A59 L47 L60 A78 L61 L74 A97 L75 L88 A116 L89 L102 A135 L103 L116 A154 L117 L130 A173 L131 L144 A192 L145 L158 A211 L159 L172 A230 L173 L186 A249 L187 L200 A268 L201 L214 A287 L215 L16 A17 L17 | L225 L226 L227 L2 | L17 A17 L16 L224 | L224 L33 A40 L32 | L215 A287 L214 L224 | L224 L47 A59 L46 | L201 A268 L200 L224 | L224 L61 A78 L60 | L187 A249 L186 L224 | L224 L75 A97 L74 | L173 A230 L172 L224 | L224 L89 A116 L88 | L159 A211 L158 L224 | L224 L103 A135 L102 | L145 A192 L144 L224 | L224 L117 A154 L116 | L131 A173 L130 L224
properties part number "sideplate"
